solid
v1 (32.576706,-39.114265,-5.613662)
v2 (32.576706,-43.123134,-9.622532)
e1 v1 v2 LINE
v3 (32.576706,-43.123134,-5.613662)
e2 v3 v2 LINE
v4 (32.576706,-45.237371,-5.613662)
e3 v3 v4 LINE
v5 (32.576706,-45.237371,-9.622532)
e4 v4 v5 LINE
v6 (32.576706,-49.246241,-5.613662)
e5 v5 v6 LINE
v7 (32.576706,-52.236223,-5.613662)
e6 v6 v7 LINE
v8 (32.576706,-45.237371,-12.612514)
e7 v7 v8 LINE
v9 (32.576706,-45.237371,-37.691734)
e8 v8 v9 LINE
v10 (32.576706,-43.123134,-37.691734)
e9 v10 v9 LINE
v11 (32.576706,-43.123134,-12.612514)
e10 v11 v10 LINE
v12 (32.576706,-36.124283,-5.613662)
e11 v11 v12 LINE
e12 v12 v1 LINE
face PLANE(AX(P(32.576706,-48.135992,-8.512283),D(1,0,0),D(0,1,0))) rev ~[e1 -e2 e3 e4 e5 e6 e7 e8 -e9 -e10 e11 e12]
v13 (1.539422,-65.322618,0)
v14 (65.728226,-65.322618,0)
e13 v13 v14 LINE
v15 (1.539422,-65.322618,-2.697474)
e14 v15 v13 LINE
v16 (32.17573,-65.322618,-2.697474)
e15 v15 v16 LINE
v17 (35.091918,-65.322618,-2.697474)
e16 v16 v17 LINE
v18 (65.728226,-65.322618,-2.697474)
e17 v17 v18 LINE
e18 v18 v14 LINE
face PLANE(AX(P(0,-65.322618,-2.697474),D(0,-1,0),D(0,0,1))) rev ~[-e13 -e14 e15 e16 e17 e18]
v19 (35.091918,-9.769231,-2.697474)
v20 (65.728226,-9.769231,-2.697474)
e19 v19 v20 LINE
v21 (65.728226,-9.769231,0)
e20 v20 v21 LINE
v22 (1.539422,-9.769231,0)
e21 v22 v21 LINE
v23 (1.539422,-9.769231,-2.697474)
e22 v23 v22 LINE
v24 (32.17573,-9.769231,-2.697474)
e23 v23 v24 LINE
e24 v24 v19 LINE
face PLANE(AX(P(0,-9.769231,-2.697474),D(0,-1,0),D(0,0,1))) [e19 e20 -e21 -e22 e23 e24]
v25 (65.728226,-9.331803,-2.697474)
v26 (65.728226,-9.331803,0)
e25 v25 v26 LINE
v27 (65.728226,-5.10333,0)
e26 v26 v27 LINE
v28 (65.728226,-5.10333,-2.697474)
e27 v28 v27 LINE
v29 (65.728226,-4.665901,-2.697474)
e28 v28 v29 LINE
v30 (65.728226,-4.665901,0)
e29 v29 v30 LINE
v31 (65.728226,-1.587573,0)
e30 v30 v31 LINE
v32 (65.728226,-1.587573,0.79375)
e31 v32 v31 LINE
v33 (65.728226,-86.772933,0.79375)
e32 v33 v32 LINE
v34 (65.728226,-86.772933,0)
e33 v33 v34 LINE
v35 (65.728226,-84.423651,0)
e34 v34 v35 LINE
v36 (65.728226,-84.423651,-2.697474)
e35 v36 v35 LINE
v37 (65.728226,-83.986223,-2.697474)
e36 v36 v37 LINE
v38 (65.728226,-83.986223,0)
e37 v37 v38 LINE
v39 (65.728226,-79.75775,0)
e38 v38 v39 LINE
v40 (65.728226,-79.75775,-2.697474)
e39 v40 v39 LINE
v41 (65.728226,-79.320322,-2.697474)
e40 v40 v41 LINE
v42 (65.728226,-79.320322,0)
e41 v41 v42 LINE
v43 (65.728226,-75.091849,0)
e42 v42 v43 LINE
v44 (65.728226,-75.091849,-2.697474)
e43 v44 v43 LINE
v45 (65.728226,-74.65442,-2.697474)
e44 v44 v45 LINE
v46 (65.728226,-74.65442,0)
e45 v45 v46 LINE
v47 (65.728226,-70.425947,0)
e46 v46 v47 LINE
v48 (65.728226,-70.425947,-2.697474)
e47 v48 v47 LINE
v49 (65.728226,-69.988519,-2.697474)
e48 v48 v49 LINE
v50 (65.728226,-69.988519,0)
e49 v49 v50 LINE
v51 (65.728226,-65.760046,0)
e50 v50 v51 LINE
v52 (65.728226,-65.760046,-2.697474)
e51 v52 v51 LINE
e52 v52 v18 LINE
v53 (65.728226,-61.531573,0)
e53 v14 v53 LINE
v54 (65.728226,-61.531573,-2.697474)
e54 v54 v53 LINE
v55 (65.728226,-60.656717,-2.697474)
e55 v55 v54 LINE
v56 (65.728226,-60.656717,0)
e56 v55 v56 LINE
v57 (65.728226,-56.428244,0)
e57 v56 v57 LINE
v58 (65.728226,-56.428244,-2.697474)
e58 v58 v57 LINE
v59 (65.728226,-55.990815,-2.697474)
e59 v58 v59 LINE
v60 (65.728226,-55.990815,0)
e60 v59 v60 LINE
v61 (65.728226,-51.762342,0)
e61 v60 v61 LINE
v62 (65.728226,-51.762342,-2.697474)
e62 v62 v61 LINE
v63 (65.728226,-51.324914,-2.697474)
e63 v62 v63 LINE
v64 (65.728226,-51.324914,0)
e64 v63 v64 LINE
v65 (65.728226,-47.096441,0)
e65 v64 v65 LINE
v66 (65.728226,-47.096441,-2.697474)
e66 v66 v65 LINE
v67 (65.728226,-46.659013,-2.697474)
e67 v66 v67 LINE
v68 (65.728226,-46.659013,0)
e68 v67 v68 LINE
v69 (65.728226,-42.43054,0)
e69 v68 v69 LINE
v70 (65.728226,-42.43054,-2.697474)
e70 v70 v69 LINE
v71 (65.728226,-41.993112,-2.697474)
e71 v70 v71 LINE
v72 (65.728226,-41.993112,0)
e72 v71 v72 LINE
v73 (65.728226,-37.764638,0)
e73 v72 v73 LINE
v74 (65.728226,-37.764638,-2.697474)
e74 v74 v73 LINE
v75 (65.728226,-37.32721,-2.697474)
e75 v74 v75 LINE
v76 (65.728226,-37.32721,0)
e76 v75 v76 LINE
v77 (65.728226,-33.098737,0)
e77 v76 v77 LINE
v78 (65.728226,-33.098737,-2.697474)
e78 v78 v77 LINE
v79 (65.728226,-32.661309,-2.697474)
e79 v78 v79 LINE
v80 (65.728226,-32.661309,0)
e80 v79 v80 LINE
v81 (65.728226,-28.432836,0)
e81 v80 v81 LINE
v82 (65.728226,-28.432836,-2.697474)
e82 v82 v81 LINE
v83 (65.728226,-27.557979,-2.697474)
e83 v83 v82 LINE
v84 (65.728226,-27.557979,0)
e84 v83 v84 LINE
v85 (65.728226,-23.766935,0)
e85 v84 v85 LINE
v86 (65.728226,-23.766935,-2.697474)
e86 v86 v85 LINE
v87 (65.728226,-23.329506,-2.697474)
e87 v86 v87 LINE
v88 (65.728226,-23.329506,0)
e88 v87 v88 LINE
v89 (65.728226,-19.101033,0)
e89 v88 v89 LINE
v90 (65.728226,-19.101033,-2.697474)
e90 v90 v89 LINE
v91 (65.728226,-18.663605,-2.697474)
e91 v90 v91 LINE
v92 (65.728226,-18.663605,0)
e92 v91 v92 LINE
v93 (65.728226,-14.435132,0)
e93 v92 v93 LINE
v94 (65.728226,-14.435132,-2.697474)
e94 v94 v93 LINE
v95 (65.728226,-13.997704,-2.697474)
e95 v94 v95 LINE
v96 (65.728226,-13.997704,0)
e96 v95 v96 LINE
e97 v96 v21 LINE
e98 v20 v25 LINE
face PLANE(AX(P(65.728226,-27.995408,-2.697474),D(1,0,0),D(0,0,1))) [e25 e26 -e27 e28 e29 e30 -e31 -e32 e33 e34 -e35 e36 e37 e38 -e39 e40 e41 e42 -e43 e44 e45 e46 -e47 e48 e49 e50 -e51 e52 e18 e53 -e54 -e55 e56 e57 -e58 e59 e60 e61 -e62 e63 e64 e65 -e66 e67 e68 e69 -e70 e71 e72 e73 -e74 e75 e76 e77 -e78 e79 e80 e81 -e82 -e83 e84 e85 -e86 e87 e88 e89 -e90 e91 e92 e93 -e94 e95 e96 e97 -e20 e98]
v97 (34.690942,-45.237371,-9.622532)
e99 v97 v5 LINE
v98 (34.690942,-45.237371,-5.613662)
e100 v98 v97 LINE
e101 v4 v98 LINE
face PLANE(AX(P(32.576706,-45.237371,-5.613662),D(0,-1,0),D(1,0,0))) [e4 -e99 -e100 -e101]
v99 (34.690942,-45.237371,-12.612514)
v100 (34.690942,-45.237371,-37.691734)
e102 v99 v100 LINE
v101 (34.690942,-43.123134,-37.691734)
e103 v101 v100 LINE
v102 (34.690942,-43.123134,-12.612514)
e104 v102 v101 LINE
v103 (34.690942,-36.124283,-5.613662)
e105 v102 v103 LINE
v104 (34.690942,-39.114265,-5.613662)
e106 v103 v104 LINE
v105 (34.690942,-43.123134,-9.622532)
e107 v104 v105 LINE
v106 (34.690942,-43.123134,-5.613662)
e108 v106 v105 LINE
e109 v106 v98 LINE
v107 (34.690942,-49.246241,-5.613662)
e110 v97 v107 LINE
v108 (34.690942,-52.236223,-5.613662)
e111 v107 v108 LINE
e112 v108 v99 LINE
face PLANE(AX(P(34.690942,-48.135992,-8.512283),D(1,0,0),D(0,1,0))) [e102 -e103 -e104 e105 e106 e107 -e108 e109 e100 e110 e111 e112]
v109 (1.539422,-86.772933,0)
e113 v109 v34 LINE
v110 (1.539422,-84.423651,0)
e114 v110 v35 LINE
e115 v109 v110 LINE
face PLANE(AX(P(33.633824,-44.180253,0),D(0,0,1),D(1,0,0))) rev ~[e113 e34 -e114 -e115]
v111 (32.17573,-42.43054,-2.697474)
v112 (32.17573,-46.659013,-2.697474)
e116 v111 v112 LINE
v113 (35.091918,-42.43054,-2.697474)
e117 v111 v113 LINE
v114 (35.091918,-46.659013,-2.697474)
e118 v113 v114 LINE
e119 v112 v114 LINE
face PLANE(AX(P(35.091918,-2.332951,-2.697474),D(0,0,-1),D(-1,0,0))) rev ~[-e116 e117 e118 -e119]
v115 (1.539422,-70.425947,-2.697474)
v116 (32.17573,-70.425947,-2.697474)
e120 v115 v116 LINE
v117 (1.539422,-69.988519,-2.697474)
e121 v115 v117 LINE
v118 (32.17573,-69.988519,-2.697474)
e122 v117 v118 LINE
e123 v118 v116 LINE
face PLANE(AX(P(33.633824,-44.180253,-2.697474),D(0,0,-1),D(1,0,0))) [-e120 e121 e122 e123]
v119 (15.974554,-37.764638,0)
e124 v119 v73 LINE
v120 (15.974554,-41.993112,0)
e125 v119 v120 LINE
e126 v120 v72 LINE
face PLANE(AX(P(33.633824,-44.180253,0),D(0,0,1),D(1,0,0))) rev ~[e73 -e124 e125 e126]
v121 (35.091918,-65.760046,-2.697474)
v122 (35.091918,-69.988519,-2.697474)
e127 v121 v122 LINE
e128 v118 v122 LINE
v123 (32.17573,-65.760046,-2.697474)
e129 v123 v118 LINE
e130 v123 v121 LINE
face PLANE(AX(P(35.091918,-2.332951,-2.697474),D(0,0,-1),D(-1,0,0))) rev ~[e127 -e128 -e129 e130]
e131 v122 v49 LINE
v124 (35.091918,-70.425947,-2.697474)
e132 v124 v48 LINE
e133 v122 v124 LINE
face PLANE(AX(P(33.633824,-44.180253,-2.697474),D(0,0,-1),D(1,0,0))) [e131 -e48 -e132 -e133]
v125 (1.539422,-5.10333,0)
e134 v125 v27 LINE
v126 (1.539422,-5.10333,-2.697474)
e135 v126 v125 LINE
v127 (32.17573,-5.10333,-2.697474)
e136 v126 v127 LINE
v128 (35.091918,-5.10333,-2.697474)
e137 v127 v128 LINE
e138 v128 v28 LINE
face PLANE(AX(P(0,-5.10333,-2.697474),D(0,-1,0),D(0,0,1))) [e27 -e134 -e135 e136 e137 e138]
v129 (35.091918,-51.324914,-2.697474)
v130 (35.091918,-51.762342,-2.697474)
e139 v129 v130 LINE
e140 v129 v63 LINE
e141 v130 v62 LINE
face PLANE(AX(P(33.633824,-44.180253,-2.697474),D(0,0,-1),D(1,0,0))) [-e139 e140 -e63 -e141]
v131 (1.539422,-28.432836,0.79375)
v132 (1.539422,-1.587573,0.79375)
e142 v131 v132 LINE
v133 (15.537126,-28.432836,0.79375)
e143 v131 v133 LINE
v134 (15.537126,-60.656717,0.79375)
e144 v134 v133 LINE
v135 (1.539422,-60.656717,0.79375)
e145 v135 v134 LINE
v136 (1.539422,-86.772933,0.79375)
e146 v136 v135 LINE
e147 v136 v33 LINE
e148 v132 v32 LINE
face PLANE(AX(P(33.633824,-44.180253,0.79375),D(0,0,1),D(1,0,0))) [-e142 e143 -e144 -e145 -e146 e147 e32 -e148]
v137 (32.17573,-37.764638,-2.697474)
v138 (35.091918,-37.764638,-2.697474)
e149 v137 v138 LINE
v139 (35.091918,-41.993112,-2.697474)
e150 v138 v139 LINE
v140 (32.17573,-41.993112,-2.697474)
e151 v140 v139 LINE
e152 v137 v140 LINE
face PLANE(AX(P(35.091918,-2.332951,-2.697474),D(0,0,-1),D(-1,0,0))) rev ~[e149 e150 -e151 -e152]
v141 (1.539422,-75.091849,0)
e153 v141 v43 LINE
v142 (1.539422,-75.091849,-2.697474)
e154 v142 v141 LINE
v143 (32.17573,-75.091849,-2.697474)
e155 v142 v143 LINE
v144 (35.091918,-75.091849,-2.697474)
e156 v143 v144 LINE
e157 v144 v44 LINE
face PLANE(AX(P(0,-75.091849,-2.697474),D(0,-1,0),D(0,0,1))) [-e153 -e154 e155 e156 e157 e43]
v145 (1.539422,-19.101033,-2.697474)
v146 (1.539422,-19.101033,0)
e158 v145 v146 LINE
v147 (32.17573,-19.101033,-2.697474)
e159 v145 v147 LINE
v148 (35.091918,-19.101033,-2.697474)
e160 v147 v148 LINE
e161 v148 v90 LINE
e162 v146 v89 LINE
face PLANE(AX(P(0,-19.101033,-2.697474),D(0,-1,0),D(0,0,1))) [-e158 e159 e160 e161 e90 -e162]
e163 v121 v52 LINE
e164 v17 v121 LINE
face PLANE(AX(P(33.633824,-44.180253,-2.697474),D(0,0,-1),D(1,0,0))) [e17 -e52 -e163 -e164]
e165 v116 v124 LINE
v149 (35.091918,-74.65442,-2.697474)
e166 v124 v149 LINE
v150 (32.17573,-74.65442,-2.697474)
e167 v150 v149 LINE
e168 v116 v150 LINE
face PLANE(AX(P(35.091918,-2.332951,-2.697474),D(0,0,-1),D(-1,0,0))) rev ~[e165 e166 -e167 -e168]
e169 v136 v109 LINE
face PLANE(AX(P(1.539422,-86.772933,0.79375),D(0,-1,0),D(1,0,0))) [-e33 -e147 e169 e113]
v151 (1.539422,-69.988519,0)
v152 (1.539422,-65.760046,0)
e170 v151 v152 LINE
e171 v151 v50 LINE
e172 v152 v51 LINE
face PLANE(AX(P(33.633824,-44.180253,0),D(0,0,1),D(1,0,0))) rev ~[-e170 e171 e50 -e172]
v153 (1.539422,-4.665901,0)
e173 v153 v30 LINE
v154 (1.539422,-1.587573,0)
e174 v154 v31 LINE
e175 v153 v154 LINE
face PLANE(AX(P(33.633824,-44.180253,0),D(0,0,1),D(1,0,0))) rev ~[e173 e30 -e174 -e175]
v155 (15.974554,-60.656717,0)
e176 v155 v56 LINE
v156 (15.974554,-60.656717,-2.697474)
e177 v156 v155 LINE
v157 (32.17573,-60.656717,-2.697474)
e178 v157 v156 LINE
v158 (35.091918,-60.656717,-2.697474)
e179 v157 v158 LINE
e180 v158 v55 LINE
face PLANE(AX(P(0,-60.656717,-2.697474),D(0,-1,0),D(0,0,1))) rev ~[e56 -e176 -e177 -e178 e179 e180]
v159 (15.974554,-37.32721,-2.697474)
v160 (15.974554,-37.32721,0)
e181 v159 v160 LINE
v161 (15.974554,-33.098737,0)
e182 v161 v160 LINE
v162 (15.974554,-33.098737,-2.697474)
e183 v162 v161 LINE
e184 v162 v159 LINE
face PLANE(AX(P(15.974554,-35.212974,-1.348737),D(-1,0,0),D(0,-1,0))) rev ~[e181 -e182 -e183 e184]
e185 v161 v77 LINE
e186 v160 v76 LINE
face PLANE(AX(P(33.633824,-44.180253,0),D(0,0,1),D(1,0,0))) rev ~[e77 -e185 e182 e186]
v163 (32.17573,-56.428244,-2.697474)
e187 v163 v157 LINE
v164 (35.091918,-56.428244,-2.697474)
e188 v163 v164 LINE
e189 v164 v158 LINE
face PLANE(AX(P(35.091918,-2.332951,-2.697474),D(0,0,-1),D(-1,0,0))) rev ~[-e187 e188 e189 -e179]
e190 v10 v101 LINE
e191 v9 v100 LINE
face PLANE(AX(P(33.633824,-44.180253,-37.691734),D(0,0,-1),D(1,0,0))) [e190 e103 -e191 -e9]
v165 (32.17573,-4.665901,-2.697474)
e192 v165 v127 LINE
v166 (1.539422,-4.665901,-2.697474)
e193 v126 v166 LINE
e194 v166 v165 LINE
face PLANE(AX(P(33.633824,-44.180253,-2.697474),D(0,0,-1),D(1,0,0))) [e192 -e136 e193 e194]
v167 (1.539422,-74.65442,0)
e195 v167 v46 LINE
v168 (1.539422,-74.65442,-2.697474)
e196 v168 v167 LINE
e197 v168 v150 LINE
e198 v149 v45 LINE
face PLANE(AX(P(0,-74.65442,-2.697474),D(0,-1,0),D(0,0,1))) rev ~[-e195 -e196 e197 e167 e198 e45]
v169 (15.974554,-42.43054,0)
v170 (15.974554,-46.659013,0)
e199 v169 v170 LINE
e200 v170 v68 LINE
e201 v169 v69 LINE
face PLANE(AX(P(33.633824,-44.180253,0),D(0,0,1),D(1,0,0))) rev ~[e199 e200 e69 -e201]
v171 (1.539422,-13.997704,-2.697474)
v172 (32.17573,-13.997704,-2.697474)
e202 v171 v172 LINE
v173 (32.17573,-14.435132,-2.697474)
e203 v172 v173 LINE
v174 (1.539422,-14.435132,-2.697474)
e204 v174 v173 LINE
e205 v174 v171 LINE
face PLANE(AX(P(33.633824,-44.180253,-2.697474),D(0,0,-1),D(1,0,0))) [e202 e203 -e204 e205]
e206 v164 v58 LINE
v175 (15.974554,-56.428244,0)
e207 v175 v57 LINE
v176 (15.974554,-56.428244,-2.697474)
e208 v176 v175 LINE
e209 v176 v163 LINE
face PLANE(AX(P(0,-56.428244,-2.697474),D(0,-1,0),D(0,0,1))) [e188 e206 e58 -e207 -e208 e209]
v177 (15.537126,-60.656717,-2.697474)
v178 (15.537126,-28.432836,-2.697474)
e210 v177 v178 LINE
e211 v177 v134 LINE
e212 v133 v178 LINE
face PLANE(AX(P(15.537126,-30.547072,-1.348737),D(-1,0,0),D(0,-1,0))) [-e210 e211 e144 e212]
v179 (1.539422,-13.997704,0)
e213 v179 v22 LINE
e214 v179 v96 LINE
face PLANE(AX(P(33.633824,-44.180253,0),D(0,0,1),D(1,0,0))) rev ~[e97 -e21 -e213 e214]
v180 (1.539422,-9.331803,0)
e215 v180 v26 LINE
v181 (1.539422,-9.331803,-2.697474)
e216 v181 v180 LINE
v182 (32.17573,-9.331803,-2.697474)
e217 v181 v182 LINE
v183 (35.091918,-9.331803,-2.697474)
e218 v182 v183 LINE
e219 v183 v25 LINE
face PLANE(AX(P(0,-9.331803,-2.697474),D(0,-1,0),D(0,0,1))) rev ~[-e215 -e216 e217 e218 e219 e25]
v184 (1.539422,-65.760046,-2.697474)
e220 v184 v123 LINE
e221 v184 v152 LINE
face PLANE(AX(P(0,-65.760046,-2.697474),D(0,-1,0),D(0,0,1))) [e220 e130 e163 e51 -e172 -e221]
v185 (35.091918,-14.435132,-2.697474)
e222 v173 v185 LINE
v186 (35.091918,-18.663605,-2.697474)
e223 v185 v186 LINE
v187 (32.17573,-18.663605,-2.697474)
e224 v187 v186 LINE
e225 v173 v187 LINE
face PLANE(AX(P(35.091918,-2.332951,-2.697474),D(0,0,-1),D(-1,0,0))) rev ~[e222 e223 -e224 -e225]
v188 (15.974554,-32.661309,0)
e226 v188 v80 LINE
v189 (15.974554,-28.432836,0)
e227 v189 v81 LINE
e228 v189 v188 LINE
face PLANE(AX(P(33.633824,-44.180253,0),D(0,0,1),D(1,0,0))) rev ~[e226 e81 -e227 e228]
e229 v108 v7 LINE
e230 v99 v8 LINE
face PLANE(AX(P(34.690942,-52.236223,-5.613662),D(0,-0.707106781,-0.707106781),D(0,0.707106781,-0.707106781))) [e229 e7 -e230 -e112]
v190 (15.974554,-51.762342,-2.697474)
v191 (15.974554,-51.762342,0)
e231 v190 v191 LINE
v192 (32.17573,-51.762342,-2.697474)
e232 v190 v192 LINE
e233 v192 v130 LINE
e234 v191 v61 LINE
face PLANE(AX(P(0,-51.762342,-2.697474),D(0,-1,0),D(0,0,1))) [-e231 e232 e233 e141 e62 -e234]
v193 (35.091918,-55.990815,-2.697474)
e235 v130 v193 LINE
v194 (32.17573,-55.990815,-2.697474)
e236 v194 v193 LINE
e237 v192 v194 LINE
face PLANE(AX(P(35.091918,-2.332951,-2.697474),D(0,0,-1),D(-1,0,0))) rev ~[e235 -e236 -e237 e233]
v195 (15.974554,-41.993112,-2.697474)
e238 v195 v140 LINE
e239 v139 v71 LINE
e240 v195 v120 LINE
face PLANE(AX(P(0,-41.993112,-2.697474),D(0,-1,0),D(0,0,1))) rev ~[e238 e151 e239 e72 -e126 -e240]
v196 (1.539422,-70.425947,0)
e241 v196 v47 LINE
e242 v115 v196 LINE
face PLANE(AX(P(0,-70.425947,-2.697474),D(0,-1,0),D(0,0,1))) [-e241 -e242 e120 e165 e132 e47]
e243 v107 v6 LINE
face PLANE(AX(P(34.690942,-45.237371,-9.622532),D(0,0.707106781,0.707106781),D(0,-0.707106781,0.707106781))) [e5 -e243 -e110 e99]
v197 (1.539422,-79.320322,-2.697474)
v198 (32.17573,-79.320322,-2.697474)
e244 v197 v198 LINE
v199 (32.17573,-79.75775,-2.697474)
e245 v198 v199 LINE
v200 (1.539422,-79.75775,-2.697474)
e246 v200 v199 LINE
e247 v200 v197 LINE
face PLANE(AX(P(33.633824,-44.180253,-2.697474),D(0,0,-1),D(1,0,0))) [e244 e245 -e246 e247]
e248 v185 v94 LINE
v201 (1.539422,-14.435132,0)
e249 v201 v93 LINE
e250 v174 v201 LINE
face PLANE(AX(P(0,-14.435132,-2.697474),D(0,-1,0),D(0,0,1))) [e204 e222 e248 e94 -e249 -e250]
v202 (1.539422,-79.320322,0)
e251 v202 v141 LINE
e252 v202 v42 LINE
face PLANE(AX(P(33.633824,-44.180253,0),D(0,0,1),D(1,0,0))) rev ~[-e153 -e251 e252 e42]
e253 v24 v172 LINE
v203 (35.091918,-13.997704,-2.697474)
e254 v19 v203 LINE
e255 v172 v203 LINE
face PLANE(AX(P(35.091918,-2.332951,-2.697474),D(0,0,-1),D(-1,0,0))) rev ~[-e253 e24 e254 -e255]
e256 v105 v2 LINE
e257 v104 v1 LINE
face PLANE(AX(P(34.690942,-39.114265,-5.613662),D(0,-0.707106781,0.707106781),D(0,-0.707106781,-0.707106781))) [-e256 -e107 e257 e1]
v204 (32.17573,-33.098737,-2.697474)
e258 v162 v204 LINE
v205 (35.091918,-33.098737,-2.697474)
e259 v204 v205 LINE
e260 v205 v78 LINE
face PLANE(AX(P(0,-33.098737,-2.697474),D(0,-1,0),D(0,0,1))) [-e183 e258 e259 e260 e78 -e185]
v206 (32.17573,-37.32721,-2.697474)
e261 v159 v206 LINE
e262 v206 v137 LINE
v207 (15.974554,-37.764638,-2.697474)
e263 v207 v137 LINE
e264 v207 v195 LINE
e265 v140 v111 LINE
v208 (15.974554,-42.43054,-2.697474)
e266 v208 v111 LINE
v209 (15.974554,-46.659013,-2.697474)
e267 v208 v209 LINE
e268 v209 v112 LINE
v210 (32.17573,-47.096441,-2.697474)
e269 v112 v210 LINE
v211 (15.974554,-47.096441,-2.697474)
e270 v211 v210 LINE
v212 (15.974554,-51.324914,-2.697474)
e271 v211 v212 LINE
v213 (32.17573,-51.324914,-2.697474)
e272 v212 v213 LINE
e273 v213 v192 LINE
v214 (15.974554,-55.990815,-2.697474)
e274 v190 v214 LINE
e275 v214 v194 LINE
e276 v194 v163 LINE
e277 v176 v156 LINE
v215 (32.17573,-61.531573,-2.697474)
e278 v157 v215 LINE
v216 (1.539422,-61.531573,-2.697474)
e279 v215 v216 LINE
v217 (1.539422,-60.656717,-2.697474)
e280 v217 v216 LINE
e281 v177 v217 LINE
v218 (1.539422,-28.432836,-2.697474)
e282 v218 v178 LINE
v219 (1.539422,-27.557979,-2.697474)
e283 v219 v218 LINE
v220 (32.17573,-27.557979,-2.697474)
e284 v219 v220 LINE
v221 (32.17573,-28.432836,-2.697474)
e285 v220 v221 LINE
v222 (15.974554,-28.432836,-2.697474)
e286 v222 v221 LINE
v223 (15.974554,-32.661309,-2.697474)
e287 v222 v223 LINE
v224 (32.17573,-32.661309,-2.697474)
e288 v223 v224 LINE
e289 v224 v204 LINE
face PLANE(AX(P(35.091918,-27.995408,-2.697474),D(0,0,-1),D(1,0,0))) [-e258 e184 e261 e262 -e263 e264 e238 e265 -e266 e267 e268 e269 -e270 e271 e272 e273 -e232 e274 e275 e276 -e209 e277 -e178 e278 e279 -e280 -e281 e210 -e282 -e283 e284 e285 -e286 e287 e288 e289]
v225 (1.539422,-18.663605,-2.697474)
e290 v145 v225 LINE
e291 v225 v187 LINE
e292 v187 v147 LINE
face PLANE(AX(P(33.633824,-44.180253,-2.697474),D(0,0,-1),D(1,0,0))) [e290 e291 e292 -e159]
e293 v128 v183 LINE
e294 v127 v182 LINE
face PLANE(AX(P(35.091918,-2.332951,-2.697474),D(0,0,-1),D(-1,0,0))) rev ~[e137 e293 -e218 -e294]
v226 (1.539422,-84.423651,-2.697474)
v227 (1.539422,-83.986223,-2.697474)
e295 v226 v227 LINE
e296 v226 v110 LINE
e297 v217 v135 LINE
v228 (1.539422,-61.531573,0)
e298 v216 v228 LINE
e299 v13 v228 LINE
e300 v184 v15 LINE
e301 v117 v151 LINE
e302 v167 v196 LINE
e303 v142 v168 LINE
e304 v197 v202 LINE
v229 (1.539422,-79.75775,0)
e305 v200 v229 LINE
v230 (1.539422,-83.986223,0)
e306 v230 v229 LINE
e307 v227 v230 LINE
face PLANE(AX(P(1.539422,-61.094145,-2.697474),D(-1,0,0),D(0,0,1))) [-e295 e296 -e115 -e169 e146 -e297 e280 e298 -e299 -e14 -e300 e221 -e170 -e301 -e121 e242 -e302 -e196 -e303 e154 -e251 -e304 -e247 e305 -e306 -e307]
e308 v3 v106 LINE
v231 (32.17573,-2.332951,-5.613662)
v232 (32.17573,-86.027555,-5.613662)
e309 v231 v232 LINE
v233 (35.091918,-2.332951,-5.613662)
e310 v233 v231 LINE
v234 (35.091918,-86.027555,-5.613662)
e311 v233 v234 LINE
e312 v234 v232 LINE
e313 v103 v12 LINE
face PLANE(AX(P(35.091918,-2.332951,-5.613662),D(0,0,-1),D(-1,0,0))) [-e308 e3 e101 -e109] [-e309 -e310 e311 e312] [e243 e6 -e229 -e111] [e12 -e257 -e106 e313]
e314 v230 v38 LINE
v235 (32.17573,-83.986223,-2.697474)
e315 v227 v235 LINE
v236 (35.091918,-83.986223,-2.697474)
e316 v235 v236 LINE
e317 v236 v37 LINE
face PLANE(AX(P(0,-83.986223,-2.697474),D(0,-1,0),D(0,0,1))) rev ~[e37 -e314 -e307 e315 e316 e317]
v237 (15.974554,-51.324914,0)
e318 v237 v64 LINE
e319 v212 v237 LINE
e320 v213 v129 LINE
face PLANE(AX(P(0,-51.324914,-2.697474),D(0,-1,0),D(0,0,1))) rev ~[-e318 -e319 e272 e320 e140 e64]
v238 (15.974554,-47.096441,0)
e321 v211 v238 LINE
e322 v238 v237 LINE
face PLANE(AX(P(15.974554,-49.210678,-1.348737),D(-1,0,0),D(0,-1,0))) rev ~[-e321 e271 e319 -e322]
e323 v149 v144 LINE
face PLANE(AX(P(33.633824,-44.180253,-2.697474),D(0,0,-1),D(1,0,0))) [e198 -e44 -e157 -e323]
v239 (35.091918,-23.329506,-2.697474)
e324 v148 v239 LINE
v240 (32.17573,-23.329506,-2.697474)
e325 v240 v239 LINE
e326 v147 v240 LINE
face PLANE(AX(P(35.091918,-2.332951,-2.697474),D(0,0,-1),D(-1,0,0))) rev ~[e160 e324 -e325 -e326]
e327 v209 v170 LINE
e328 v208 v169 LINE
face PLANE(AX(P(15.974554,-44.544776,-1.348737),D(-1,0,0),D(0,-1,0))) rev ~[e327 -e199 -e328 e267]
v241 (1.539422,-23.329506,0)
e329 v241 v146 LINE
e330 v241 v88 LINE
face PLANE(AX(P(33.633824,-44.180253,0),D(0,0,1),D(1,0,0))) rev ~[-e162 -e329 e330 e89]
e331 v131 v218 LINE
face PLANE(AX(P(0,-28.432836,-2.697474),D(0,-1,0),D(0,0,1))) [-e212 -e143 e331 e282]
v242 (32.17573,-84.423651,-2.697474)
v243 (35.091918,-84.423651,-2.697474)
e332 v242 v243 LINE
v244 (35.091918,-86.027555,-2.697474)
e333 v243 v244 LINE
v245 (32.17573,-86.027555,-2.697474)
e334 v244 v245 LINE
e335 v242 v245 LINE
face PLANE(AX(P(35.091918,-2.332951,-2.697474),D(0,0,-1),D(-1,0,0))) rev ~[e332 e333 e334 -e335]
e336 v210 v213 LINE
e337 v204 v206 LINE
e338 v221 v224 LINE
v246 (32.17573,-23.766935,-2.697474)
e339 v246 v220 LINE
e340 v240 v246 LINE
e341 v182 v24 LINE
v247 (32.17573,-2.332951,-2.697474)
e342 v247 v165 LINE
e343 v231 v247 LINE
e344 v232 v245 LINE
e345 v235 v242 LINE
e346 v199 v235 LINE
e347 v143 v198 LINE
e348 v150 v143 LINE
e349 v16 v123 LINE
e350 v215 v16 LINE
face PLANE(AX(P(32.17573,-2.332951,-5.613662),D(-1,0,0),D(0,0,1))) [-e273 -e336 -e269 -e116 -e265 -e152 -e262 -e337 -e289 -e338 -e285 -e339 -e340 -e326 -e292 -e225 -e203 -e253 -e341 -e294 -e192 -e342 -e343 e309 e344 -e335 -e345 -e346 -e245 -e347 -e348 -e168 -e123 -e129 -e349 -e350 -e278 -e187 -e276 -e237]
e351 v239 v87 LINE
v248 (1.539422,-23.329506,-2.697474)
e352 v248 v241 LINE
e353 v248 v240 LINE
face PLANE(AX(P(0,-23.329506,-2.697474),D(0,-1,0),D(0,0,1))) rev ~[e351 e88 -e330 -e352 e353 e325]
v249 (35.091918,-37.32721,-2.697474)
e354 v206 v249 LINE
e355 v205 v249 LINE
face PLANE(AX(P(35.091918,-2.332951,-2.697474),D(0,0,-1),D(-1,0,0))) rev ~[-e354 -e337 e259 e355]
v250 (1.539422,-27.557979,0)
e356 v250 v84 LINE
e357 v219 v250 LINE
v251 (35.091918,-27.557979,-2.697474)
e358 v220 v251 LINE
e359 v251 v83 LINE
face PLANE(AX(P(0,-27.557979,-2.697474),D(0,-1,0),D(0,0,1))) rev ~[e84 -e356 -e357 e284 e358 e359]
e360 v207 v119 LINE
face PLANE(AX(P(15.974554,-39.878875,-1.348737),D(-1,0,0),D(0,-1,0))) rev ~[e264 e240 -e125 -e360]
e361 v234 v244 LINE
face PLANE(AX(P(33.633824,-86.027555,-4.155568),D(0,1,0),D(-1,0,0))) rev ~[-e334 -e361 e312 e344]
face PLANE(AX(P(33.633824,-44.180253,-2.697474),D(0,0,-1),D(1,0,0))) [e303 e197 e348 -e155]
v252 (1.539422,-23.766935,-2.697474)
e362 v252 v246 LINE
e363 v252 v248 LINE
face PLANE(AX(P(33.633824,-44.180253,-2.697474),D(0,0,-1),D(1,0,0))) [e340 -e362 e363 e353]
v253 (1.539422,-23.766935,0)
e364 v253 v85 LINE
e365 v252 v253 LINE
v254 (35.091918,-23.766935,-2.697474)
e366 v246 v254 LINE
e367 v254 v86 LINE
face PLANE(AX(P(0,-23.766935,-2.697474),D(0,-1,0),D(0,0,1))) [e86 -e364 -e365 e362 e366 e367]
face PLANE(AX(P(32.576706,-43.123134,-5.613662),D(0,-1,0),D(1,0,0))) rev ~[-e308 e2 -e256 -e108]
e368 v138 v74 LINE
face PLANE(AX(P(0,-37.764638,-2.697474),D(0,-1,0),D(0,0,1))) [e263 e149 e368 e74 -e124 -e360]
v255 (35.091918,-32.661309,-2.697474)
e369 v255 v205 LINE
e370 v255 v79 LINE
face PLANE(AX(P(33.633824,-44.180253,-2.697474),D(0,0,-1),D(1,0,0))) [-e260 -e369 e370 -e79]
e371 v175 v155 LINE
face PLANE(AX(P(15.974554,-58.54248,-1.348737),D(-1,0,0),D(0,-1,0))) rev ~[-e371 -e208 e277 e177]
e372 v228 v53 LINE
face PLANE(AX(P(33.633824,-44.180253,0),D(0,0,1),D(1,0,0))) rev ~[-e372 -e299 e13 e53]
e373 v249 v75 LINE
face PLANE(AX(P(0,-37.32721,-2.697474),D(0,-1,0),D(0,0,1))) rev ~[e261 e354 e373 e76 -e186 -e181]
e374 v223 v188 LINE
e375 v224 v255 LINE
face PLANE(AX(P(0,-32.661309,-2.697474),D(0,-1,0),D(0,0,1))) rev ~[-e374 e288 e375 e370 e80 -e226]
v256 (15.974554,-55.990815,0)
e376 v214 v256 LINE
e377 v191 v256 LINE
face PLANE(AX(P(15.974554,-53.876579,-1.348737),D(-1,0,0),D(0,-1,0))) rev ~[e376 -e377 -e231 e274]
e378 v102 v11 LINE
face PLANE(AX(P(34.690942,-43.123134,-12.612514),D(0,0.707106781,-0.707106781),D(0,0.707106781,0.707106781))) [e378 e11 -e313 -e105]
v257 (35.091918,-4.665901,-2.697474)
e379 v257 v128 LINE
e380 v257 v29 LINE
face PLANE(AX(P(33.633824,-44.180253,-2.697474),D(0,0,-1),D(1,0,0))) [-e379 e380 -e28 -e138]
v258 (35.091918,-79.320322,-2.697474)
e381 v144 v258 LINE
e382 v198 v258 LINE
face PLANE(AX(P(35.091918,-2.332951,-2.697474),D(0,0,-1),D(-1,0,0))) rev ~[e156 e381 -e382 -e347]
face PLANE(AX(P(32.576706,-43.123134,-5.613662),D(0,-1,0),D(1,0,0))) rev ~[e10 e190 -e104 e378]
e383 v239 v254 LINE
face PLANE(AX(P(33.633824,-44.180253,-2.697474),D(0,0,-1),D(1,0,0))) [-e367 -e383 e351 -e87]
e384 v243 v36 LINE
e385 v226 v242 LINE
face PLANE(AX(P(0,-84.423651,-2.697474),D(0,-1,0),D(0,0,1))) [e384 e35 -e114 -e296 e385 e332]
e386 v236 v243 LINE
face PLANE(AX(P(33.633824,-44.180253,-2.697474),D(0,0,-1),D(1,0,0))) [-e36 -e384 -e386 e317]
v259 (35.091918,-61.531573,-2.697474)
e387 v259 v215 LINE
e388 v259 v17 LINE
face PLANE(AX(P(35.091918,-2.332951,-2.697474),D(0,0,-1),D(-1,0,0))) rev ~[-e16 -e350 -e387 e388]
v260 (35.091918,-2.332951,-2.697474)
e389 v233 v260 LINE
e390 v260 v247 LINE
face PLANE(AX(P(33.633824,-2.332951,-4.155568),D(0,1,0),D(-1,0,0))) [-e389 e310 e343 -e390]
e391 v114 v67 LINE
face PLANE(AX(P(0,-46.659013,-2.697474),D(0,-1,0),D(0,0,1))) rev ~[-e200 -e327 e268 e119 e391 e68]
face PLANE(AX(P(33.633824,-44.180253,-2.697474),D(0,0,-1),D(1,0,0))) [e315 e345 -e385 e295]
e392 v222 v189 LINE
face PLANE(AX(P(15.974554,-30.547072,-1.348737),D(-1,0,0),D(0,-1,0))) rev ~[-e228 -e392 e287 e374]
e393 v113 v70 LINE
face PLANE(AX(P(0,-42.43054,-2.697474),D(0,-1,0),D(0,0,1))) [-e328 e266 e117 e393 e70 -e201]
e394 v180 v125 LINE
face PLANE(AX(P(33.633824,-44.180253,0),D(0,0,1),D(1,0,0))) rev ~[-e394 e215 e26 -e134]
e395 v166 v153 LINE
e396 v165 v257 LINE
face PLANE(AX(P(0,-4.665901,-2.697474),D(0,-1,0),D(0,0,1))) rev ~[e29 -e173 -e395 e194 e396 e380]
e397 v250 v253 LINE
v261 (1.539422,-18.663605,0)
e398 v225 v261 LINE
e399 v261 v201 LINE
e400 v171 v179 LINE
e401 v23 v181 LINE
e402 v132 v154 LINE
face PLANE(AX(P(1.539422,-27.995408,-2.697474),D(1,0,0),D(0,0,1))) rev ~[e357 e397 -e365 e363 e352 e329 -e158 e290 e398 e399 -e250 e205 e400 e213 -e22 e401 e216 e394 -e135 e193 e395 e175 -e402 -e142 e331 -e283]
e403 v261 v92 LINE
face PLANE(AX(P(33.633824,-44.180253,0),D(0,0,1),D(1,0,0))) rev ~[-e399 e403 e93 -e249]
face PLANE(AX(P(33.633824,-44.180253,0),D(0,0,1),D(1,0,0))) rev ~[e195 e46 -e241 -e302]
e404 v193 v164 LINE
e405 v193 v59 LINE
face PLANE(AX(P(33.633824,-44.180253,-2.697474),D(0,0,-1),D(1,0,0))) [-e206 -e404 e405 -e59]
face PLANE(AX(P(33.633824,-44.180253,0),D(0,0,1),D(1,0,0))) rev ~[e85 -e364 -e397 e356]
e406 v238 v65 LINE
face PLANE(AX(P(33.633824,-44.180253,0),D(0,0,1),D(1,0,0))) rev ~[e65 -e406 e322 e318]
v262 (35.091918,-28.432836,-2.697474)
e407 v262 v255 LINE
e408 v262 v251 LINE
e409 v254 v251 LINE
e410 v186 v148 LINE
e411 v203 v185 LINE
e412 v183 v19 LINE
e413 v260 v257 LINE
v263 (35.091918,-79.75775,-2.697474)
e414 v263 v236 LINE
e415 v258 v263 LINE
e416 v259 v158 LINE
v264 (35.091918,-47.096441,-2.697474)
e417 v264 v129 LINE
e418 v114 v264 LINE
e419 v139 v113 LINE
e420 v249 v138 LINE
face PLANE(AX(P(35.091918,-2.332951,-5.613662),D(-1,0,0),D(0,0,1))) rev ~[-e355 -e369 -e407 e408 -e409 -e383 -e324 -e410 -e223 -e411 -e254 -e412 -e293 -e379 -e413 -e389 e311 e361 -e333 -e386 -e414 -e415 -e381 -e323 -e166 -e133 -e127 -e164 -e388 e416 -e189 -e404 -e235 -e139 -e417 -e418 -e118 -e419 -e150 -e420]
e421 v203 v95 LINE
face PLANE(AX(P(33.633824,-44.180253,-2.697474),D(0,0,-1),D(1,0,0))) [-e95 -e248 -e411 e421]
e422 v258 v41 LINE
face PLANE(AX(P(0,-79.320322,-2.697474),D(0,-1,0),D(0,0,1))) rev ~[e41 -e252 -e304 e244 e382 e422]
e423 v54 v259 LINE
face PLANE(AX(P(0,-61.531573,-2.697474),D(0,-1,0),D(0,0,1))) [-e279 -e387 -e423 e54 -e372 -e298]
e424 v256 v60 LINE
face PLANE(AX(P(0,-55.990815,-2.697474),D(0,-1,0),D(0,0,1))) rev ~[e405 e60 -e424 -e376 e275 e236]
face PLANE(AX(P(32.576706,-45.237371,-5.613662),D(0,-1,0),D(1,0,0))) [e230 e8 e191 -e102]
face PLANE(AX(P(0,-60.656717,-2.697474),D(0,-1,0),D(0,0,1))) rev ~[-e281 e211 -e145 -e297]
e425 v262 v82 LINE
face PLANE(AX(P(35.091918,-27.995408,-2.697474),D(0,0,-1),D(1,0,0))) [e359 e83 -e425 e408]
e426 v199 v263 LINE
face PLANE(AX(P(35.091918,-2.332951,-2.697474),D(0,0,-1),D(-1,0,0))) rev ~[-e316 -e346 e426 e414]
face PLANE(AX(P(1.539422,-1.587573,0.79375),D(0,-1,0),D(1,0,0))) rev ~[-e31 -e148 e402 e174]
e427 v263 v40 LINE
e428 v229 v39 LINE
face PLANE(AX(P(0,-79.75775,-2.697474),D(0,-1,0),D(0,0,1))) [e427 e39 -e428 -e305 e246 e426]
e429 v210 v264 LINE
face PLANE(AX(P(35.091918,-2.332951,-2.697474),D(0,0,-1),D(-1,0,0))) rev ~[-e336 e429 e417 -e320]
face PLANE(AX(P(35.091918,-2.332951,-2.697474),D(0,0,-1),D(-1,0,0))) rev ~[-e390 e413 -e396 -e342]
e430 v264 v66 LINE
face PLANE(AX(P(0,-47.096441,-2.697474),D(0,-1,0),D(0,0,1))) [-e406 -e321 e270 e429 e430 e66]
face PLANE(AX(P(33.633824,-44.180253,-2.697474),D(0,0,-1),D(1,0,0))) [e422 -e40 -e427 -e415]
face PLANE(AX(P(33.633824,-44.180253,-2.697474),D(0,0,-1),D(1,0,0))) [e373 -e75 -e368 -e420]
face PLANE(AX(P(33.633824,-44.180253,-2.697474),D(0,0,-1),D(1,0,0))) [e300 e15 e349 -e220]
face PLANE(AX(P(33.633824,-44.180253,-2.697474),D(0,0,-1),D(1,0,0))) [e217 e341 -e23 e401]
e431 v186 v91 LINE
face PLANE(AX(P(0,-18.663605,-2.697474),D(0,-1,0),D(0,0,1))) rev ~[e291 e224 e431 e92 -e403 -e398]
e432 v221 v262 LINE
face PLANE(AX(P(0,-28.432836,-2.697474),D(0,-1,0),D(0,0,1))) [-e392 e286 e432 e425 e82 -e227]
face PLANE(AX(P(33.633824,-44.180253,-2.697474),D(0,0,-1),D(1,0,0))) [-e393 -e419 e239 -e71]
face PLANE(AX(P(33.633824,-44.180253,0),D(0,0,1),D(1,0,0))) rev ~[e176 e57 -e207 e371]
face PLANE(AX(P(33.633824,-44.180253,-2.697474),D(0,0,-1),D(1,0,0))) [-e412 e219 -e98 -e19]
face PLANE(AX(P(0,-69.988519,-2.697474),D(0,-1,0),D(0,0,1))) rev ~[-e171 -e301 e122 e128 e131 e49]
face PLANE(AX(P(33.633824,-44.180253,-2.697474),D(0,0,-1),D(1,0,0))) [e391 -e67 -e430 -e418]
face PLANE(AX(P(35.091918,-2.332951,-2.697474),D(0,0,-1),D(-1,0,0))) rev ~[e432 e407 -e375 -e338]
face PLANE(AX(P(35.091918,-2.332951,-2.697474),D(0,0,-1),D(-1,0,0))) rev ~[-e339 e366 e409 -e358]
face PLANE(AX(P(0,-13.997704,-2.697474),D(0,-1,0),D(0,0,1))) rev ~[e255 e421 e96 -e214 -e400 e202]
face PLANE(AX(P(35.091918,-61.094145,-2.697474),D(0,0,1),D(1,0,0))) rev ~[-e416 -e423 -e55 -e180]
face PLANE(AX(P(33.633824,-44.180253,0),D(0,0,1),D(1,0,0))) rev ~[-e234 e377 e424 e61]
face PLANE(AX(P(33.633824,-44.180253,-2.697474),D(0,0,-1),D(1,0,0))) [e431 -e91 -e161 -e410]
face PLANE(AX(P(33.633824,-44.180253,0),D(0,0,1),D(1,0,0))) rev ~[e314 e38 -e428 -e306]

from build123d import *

# Parameters (mm, degrees)
F0_W      = 5867.4
F0_H      = 7696.2
F1_DEPTH  = 69.135625
F2_W      = 5867.4
F2_H      = 7696.2
F2_W_2    = 5791.2
F2_H_2    = 7620
F3_DEPTH  = 234.95
F4_W      = 38.1
F4_H      = 234.95
F5_DEPTH  = 5863.2060388453
F7_W      = 254
F7_H      = 254
F8_DEPTH  = 7289.8
F9_W      = 184.15
F9_H      = 184.15
F10_DEPTH = 2794
F12_DEPTH = 184.15
F13_W     = 5867.4
F13_H     = 7696.2
F13_W_2   = 5590.8448
F13_H_2   = 7419.6448
F14_DEPTH = 304.085625
F15_W     = 1219.2
F15_H     = 2806.7
F16_DEPTH = 304.8
F17_W     = 368.3
F17_H     = 234.95
F18_DEPTH = 38.1
F19_DEPTH = 38.1
F20_DEPTH = 38.1
F21_SCALE = 0.0114810563


with BuildPart() as f1:
    # F0 (on Top) → F1 (new body)
    with BuildSketch(Plane.XY):
        with Locations((2929.5060388453, -3848.1)):
            Rectangle(F0_W, F0_H)
    extrude(amount=F1_DEPTH)

    # F2 (on face) → F3 (join)
    with BuildSketch(Plane(origin=(0, 0, 0), x_dir=(1, 0, 0), z_dir=(0, 0, -1))):
        with Locations((2929.5060388453, 3848.1)):
            Rectangle(F2_W, F2_H)
        with Locations((2929.5060388453, 3848.1)):
            Rectangle(F2_W_2, F2_H_2, mode=Mode.SUBTRACT)
    extrude(amount=F3_DEPTH)

    # F4 (on Right) → F5 (join, through all)
    with BuildSketch(Plane.YZ):
        with Locations((-425.45, -117.475)):
            Rectangle(F4_W, F4_H)
        with Locations((-831.85, -117.475)):
            Rectangle(F4_W, F4_H)
        with Locations((-1238.25, -117.475)):
            Rectangle(F4_W, F4_H)
        with Locations((-1644.65, -117.475)):
            Rectangle(F4_W, F4_H)
        with Locations((-2051.05, -117.475)):
            Rectangle(F4_W, F4_H)
        with Locations((-2457.45, -117.475)):
            Rectangle(F4_W, F4_H)
        with Locations((-2863.85, -117.475)):
            Rectangle(F4_W, F4_H)
        with Locations((-3270.25, -117.475)):
            Rectangle(F4_W, F4_H)
        with Locations((-3676.65, -117.475)):
            Rectangle(F4_W, F4_H)
        with Locations((-4083.05, -117.475)):
            Rectangle(F4_W, F4_H)
        with Locations((-4489.45, -117.475)):
            Rectangle(F4_W, F4_H)
        with Locations((-4895.85, -117.475)):
            Rectangle(F4_W, F4_H)
        with Locations((-5302.25, -117.475)):
            Rectangle(F4_W, F4_H)
        with Locations((-5708.65, -117.475)):
            Rectangle(F4_W, F4_H)
        with Locations((-6115.05, -117.475)):
            Rectangle(F4_W, F4_H)
        with Locations((-6521.45, -117.475)):
            Rectangle(F4_W, F4_H)
        with Locations((-6927.85, -117.475)):
            Rectangle(F4_W, F4_H)
        with Locations((-7334.25, -117.475)):
            Rectangle(F4_W, F4_H)
    extrude(amount=F5_DEPTH)

    # F7 (on offset) → F8 (join)
    with BuildSketch(Plane(origin=(0, -203.2, 0), x_dir=(-1, 0, 0), z_dir=(0, 1, 0))):
        with Locations((-2929.5060388453, -361.95)):
            Rectangle(F7_W, F7_H)
    extrude(amount=-F8_DEPTH)

    # F9 (on face) → F10 (join)
    with BuildSketch(Plane(origin=(0, 0, -488.95), x_dir=(1, 0, 0), z_dir=(0, 0, -1))):
        with Locations((2929.5060388453, 3848.1)):
            Rectangle(F9_W, F9_H)
    extrude(amount=F10_DEPTH)

    # F11 (on face) → F12 (join, through all)
    with BuildSketch(Plane.YZ.offset(3021.5810388453)):
        Polygon((-3940.175, -838.122572489), (-4289.347572489, -488.95), (-4549.775, -488.95), (-3940.175, -1098.55), align=None)
        Polygon((-3406.852427511, -488.95), (-3756.025, -838.122572489), (-3756.025, -1098.55), (-3146.425, -488.95), align=None)
    extrude(amount=-F12_DEPTH)

    # F13 (on face) → F14 (cut, through all)
    with BuildSketch(Plane.XY.offset(69.135625)):
        with Locations((2929.5060388453, -3848.1)):
            Rectangle(F13_W, F13_H)
        with Locations((2929.5060388453, -3848.1)):
            Rectangle(F13_W_2, F13_H_2, mode=Mode.SUBTRACT)
    extrude(amount=-F14_DEPTH, mode=Mode.SUBTRACT)

    # F15 (on face) → F16 (cut)
    with BuildSketch(Plane.XY.offset(69.135625)):
        with Locations((743.6836388453, -3879.85)):
            Rectangle(F15_W, F15_H)
    extrude(amount=-F16_DEPTH, mode=Mode.SUBTRACT)

    # F17 (on face) → F18 (join)
    with BuildSketch(Plane(origin=(1353.2836388453, 0, 0), x_dir=(0, -1, 0), z_dir=(-1, 0, 0))):
        with Locations((2660.65, -117.475)):
            Rectangle(F17_W, F17_H)
        with Locations((3067.05, -117.475)):
            Rectangle(F17_W, F17_H)
        with Locations((3473.45, -117.475)):
            Rectangle(F17_W, F17_H)
        with Locations((3879.85, -117.475)):
            Rectangle(F17_W, F17_H)
        with Locations((4286.25, -117.475)):
            Rectangle(F17_W, F17_H)
        with Locations((4692.65, -117.475)):
            Rectangle(F17_W, F17_H)
        with Locations((5099.05, -117.475)):
            Rectangle(F17_W, F17_H)
    extrude(amount=-F18_DEPTH)

    # F19 (add): a face of the model
    f19_faces = [f1.faces().sort_by_distance(p)[0] for p in [
        (2929.5060388453, -5321.3, -117.475),
    ]]
    extrude(f19_faces, amount=F19_DEPTH)

    # F20 (add): a face of the model
    f20_faces = [f1.faces().sort_by_distance(p)[0] for p in [
        (2929.5060388453, -2438.4, -117.475),
    ]]
    extrude(f20_faces, amount=F20_DEPTH)


with BuildPart() as f1_1:
    # F21: moved
    add(f1.part.scale(F21_SCALE))


solid = f1_1.part
